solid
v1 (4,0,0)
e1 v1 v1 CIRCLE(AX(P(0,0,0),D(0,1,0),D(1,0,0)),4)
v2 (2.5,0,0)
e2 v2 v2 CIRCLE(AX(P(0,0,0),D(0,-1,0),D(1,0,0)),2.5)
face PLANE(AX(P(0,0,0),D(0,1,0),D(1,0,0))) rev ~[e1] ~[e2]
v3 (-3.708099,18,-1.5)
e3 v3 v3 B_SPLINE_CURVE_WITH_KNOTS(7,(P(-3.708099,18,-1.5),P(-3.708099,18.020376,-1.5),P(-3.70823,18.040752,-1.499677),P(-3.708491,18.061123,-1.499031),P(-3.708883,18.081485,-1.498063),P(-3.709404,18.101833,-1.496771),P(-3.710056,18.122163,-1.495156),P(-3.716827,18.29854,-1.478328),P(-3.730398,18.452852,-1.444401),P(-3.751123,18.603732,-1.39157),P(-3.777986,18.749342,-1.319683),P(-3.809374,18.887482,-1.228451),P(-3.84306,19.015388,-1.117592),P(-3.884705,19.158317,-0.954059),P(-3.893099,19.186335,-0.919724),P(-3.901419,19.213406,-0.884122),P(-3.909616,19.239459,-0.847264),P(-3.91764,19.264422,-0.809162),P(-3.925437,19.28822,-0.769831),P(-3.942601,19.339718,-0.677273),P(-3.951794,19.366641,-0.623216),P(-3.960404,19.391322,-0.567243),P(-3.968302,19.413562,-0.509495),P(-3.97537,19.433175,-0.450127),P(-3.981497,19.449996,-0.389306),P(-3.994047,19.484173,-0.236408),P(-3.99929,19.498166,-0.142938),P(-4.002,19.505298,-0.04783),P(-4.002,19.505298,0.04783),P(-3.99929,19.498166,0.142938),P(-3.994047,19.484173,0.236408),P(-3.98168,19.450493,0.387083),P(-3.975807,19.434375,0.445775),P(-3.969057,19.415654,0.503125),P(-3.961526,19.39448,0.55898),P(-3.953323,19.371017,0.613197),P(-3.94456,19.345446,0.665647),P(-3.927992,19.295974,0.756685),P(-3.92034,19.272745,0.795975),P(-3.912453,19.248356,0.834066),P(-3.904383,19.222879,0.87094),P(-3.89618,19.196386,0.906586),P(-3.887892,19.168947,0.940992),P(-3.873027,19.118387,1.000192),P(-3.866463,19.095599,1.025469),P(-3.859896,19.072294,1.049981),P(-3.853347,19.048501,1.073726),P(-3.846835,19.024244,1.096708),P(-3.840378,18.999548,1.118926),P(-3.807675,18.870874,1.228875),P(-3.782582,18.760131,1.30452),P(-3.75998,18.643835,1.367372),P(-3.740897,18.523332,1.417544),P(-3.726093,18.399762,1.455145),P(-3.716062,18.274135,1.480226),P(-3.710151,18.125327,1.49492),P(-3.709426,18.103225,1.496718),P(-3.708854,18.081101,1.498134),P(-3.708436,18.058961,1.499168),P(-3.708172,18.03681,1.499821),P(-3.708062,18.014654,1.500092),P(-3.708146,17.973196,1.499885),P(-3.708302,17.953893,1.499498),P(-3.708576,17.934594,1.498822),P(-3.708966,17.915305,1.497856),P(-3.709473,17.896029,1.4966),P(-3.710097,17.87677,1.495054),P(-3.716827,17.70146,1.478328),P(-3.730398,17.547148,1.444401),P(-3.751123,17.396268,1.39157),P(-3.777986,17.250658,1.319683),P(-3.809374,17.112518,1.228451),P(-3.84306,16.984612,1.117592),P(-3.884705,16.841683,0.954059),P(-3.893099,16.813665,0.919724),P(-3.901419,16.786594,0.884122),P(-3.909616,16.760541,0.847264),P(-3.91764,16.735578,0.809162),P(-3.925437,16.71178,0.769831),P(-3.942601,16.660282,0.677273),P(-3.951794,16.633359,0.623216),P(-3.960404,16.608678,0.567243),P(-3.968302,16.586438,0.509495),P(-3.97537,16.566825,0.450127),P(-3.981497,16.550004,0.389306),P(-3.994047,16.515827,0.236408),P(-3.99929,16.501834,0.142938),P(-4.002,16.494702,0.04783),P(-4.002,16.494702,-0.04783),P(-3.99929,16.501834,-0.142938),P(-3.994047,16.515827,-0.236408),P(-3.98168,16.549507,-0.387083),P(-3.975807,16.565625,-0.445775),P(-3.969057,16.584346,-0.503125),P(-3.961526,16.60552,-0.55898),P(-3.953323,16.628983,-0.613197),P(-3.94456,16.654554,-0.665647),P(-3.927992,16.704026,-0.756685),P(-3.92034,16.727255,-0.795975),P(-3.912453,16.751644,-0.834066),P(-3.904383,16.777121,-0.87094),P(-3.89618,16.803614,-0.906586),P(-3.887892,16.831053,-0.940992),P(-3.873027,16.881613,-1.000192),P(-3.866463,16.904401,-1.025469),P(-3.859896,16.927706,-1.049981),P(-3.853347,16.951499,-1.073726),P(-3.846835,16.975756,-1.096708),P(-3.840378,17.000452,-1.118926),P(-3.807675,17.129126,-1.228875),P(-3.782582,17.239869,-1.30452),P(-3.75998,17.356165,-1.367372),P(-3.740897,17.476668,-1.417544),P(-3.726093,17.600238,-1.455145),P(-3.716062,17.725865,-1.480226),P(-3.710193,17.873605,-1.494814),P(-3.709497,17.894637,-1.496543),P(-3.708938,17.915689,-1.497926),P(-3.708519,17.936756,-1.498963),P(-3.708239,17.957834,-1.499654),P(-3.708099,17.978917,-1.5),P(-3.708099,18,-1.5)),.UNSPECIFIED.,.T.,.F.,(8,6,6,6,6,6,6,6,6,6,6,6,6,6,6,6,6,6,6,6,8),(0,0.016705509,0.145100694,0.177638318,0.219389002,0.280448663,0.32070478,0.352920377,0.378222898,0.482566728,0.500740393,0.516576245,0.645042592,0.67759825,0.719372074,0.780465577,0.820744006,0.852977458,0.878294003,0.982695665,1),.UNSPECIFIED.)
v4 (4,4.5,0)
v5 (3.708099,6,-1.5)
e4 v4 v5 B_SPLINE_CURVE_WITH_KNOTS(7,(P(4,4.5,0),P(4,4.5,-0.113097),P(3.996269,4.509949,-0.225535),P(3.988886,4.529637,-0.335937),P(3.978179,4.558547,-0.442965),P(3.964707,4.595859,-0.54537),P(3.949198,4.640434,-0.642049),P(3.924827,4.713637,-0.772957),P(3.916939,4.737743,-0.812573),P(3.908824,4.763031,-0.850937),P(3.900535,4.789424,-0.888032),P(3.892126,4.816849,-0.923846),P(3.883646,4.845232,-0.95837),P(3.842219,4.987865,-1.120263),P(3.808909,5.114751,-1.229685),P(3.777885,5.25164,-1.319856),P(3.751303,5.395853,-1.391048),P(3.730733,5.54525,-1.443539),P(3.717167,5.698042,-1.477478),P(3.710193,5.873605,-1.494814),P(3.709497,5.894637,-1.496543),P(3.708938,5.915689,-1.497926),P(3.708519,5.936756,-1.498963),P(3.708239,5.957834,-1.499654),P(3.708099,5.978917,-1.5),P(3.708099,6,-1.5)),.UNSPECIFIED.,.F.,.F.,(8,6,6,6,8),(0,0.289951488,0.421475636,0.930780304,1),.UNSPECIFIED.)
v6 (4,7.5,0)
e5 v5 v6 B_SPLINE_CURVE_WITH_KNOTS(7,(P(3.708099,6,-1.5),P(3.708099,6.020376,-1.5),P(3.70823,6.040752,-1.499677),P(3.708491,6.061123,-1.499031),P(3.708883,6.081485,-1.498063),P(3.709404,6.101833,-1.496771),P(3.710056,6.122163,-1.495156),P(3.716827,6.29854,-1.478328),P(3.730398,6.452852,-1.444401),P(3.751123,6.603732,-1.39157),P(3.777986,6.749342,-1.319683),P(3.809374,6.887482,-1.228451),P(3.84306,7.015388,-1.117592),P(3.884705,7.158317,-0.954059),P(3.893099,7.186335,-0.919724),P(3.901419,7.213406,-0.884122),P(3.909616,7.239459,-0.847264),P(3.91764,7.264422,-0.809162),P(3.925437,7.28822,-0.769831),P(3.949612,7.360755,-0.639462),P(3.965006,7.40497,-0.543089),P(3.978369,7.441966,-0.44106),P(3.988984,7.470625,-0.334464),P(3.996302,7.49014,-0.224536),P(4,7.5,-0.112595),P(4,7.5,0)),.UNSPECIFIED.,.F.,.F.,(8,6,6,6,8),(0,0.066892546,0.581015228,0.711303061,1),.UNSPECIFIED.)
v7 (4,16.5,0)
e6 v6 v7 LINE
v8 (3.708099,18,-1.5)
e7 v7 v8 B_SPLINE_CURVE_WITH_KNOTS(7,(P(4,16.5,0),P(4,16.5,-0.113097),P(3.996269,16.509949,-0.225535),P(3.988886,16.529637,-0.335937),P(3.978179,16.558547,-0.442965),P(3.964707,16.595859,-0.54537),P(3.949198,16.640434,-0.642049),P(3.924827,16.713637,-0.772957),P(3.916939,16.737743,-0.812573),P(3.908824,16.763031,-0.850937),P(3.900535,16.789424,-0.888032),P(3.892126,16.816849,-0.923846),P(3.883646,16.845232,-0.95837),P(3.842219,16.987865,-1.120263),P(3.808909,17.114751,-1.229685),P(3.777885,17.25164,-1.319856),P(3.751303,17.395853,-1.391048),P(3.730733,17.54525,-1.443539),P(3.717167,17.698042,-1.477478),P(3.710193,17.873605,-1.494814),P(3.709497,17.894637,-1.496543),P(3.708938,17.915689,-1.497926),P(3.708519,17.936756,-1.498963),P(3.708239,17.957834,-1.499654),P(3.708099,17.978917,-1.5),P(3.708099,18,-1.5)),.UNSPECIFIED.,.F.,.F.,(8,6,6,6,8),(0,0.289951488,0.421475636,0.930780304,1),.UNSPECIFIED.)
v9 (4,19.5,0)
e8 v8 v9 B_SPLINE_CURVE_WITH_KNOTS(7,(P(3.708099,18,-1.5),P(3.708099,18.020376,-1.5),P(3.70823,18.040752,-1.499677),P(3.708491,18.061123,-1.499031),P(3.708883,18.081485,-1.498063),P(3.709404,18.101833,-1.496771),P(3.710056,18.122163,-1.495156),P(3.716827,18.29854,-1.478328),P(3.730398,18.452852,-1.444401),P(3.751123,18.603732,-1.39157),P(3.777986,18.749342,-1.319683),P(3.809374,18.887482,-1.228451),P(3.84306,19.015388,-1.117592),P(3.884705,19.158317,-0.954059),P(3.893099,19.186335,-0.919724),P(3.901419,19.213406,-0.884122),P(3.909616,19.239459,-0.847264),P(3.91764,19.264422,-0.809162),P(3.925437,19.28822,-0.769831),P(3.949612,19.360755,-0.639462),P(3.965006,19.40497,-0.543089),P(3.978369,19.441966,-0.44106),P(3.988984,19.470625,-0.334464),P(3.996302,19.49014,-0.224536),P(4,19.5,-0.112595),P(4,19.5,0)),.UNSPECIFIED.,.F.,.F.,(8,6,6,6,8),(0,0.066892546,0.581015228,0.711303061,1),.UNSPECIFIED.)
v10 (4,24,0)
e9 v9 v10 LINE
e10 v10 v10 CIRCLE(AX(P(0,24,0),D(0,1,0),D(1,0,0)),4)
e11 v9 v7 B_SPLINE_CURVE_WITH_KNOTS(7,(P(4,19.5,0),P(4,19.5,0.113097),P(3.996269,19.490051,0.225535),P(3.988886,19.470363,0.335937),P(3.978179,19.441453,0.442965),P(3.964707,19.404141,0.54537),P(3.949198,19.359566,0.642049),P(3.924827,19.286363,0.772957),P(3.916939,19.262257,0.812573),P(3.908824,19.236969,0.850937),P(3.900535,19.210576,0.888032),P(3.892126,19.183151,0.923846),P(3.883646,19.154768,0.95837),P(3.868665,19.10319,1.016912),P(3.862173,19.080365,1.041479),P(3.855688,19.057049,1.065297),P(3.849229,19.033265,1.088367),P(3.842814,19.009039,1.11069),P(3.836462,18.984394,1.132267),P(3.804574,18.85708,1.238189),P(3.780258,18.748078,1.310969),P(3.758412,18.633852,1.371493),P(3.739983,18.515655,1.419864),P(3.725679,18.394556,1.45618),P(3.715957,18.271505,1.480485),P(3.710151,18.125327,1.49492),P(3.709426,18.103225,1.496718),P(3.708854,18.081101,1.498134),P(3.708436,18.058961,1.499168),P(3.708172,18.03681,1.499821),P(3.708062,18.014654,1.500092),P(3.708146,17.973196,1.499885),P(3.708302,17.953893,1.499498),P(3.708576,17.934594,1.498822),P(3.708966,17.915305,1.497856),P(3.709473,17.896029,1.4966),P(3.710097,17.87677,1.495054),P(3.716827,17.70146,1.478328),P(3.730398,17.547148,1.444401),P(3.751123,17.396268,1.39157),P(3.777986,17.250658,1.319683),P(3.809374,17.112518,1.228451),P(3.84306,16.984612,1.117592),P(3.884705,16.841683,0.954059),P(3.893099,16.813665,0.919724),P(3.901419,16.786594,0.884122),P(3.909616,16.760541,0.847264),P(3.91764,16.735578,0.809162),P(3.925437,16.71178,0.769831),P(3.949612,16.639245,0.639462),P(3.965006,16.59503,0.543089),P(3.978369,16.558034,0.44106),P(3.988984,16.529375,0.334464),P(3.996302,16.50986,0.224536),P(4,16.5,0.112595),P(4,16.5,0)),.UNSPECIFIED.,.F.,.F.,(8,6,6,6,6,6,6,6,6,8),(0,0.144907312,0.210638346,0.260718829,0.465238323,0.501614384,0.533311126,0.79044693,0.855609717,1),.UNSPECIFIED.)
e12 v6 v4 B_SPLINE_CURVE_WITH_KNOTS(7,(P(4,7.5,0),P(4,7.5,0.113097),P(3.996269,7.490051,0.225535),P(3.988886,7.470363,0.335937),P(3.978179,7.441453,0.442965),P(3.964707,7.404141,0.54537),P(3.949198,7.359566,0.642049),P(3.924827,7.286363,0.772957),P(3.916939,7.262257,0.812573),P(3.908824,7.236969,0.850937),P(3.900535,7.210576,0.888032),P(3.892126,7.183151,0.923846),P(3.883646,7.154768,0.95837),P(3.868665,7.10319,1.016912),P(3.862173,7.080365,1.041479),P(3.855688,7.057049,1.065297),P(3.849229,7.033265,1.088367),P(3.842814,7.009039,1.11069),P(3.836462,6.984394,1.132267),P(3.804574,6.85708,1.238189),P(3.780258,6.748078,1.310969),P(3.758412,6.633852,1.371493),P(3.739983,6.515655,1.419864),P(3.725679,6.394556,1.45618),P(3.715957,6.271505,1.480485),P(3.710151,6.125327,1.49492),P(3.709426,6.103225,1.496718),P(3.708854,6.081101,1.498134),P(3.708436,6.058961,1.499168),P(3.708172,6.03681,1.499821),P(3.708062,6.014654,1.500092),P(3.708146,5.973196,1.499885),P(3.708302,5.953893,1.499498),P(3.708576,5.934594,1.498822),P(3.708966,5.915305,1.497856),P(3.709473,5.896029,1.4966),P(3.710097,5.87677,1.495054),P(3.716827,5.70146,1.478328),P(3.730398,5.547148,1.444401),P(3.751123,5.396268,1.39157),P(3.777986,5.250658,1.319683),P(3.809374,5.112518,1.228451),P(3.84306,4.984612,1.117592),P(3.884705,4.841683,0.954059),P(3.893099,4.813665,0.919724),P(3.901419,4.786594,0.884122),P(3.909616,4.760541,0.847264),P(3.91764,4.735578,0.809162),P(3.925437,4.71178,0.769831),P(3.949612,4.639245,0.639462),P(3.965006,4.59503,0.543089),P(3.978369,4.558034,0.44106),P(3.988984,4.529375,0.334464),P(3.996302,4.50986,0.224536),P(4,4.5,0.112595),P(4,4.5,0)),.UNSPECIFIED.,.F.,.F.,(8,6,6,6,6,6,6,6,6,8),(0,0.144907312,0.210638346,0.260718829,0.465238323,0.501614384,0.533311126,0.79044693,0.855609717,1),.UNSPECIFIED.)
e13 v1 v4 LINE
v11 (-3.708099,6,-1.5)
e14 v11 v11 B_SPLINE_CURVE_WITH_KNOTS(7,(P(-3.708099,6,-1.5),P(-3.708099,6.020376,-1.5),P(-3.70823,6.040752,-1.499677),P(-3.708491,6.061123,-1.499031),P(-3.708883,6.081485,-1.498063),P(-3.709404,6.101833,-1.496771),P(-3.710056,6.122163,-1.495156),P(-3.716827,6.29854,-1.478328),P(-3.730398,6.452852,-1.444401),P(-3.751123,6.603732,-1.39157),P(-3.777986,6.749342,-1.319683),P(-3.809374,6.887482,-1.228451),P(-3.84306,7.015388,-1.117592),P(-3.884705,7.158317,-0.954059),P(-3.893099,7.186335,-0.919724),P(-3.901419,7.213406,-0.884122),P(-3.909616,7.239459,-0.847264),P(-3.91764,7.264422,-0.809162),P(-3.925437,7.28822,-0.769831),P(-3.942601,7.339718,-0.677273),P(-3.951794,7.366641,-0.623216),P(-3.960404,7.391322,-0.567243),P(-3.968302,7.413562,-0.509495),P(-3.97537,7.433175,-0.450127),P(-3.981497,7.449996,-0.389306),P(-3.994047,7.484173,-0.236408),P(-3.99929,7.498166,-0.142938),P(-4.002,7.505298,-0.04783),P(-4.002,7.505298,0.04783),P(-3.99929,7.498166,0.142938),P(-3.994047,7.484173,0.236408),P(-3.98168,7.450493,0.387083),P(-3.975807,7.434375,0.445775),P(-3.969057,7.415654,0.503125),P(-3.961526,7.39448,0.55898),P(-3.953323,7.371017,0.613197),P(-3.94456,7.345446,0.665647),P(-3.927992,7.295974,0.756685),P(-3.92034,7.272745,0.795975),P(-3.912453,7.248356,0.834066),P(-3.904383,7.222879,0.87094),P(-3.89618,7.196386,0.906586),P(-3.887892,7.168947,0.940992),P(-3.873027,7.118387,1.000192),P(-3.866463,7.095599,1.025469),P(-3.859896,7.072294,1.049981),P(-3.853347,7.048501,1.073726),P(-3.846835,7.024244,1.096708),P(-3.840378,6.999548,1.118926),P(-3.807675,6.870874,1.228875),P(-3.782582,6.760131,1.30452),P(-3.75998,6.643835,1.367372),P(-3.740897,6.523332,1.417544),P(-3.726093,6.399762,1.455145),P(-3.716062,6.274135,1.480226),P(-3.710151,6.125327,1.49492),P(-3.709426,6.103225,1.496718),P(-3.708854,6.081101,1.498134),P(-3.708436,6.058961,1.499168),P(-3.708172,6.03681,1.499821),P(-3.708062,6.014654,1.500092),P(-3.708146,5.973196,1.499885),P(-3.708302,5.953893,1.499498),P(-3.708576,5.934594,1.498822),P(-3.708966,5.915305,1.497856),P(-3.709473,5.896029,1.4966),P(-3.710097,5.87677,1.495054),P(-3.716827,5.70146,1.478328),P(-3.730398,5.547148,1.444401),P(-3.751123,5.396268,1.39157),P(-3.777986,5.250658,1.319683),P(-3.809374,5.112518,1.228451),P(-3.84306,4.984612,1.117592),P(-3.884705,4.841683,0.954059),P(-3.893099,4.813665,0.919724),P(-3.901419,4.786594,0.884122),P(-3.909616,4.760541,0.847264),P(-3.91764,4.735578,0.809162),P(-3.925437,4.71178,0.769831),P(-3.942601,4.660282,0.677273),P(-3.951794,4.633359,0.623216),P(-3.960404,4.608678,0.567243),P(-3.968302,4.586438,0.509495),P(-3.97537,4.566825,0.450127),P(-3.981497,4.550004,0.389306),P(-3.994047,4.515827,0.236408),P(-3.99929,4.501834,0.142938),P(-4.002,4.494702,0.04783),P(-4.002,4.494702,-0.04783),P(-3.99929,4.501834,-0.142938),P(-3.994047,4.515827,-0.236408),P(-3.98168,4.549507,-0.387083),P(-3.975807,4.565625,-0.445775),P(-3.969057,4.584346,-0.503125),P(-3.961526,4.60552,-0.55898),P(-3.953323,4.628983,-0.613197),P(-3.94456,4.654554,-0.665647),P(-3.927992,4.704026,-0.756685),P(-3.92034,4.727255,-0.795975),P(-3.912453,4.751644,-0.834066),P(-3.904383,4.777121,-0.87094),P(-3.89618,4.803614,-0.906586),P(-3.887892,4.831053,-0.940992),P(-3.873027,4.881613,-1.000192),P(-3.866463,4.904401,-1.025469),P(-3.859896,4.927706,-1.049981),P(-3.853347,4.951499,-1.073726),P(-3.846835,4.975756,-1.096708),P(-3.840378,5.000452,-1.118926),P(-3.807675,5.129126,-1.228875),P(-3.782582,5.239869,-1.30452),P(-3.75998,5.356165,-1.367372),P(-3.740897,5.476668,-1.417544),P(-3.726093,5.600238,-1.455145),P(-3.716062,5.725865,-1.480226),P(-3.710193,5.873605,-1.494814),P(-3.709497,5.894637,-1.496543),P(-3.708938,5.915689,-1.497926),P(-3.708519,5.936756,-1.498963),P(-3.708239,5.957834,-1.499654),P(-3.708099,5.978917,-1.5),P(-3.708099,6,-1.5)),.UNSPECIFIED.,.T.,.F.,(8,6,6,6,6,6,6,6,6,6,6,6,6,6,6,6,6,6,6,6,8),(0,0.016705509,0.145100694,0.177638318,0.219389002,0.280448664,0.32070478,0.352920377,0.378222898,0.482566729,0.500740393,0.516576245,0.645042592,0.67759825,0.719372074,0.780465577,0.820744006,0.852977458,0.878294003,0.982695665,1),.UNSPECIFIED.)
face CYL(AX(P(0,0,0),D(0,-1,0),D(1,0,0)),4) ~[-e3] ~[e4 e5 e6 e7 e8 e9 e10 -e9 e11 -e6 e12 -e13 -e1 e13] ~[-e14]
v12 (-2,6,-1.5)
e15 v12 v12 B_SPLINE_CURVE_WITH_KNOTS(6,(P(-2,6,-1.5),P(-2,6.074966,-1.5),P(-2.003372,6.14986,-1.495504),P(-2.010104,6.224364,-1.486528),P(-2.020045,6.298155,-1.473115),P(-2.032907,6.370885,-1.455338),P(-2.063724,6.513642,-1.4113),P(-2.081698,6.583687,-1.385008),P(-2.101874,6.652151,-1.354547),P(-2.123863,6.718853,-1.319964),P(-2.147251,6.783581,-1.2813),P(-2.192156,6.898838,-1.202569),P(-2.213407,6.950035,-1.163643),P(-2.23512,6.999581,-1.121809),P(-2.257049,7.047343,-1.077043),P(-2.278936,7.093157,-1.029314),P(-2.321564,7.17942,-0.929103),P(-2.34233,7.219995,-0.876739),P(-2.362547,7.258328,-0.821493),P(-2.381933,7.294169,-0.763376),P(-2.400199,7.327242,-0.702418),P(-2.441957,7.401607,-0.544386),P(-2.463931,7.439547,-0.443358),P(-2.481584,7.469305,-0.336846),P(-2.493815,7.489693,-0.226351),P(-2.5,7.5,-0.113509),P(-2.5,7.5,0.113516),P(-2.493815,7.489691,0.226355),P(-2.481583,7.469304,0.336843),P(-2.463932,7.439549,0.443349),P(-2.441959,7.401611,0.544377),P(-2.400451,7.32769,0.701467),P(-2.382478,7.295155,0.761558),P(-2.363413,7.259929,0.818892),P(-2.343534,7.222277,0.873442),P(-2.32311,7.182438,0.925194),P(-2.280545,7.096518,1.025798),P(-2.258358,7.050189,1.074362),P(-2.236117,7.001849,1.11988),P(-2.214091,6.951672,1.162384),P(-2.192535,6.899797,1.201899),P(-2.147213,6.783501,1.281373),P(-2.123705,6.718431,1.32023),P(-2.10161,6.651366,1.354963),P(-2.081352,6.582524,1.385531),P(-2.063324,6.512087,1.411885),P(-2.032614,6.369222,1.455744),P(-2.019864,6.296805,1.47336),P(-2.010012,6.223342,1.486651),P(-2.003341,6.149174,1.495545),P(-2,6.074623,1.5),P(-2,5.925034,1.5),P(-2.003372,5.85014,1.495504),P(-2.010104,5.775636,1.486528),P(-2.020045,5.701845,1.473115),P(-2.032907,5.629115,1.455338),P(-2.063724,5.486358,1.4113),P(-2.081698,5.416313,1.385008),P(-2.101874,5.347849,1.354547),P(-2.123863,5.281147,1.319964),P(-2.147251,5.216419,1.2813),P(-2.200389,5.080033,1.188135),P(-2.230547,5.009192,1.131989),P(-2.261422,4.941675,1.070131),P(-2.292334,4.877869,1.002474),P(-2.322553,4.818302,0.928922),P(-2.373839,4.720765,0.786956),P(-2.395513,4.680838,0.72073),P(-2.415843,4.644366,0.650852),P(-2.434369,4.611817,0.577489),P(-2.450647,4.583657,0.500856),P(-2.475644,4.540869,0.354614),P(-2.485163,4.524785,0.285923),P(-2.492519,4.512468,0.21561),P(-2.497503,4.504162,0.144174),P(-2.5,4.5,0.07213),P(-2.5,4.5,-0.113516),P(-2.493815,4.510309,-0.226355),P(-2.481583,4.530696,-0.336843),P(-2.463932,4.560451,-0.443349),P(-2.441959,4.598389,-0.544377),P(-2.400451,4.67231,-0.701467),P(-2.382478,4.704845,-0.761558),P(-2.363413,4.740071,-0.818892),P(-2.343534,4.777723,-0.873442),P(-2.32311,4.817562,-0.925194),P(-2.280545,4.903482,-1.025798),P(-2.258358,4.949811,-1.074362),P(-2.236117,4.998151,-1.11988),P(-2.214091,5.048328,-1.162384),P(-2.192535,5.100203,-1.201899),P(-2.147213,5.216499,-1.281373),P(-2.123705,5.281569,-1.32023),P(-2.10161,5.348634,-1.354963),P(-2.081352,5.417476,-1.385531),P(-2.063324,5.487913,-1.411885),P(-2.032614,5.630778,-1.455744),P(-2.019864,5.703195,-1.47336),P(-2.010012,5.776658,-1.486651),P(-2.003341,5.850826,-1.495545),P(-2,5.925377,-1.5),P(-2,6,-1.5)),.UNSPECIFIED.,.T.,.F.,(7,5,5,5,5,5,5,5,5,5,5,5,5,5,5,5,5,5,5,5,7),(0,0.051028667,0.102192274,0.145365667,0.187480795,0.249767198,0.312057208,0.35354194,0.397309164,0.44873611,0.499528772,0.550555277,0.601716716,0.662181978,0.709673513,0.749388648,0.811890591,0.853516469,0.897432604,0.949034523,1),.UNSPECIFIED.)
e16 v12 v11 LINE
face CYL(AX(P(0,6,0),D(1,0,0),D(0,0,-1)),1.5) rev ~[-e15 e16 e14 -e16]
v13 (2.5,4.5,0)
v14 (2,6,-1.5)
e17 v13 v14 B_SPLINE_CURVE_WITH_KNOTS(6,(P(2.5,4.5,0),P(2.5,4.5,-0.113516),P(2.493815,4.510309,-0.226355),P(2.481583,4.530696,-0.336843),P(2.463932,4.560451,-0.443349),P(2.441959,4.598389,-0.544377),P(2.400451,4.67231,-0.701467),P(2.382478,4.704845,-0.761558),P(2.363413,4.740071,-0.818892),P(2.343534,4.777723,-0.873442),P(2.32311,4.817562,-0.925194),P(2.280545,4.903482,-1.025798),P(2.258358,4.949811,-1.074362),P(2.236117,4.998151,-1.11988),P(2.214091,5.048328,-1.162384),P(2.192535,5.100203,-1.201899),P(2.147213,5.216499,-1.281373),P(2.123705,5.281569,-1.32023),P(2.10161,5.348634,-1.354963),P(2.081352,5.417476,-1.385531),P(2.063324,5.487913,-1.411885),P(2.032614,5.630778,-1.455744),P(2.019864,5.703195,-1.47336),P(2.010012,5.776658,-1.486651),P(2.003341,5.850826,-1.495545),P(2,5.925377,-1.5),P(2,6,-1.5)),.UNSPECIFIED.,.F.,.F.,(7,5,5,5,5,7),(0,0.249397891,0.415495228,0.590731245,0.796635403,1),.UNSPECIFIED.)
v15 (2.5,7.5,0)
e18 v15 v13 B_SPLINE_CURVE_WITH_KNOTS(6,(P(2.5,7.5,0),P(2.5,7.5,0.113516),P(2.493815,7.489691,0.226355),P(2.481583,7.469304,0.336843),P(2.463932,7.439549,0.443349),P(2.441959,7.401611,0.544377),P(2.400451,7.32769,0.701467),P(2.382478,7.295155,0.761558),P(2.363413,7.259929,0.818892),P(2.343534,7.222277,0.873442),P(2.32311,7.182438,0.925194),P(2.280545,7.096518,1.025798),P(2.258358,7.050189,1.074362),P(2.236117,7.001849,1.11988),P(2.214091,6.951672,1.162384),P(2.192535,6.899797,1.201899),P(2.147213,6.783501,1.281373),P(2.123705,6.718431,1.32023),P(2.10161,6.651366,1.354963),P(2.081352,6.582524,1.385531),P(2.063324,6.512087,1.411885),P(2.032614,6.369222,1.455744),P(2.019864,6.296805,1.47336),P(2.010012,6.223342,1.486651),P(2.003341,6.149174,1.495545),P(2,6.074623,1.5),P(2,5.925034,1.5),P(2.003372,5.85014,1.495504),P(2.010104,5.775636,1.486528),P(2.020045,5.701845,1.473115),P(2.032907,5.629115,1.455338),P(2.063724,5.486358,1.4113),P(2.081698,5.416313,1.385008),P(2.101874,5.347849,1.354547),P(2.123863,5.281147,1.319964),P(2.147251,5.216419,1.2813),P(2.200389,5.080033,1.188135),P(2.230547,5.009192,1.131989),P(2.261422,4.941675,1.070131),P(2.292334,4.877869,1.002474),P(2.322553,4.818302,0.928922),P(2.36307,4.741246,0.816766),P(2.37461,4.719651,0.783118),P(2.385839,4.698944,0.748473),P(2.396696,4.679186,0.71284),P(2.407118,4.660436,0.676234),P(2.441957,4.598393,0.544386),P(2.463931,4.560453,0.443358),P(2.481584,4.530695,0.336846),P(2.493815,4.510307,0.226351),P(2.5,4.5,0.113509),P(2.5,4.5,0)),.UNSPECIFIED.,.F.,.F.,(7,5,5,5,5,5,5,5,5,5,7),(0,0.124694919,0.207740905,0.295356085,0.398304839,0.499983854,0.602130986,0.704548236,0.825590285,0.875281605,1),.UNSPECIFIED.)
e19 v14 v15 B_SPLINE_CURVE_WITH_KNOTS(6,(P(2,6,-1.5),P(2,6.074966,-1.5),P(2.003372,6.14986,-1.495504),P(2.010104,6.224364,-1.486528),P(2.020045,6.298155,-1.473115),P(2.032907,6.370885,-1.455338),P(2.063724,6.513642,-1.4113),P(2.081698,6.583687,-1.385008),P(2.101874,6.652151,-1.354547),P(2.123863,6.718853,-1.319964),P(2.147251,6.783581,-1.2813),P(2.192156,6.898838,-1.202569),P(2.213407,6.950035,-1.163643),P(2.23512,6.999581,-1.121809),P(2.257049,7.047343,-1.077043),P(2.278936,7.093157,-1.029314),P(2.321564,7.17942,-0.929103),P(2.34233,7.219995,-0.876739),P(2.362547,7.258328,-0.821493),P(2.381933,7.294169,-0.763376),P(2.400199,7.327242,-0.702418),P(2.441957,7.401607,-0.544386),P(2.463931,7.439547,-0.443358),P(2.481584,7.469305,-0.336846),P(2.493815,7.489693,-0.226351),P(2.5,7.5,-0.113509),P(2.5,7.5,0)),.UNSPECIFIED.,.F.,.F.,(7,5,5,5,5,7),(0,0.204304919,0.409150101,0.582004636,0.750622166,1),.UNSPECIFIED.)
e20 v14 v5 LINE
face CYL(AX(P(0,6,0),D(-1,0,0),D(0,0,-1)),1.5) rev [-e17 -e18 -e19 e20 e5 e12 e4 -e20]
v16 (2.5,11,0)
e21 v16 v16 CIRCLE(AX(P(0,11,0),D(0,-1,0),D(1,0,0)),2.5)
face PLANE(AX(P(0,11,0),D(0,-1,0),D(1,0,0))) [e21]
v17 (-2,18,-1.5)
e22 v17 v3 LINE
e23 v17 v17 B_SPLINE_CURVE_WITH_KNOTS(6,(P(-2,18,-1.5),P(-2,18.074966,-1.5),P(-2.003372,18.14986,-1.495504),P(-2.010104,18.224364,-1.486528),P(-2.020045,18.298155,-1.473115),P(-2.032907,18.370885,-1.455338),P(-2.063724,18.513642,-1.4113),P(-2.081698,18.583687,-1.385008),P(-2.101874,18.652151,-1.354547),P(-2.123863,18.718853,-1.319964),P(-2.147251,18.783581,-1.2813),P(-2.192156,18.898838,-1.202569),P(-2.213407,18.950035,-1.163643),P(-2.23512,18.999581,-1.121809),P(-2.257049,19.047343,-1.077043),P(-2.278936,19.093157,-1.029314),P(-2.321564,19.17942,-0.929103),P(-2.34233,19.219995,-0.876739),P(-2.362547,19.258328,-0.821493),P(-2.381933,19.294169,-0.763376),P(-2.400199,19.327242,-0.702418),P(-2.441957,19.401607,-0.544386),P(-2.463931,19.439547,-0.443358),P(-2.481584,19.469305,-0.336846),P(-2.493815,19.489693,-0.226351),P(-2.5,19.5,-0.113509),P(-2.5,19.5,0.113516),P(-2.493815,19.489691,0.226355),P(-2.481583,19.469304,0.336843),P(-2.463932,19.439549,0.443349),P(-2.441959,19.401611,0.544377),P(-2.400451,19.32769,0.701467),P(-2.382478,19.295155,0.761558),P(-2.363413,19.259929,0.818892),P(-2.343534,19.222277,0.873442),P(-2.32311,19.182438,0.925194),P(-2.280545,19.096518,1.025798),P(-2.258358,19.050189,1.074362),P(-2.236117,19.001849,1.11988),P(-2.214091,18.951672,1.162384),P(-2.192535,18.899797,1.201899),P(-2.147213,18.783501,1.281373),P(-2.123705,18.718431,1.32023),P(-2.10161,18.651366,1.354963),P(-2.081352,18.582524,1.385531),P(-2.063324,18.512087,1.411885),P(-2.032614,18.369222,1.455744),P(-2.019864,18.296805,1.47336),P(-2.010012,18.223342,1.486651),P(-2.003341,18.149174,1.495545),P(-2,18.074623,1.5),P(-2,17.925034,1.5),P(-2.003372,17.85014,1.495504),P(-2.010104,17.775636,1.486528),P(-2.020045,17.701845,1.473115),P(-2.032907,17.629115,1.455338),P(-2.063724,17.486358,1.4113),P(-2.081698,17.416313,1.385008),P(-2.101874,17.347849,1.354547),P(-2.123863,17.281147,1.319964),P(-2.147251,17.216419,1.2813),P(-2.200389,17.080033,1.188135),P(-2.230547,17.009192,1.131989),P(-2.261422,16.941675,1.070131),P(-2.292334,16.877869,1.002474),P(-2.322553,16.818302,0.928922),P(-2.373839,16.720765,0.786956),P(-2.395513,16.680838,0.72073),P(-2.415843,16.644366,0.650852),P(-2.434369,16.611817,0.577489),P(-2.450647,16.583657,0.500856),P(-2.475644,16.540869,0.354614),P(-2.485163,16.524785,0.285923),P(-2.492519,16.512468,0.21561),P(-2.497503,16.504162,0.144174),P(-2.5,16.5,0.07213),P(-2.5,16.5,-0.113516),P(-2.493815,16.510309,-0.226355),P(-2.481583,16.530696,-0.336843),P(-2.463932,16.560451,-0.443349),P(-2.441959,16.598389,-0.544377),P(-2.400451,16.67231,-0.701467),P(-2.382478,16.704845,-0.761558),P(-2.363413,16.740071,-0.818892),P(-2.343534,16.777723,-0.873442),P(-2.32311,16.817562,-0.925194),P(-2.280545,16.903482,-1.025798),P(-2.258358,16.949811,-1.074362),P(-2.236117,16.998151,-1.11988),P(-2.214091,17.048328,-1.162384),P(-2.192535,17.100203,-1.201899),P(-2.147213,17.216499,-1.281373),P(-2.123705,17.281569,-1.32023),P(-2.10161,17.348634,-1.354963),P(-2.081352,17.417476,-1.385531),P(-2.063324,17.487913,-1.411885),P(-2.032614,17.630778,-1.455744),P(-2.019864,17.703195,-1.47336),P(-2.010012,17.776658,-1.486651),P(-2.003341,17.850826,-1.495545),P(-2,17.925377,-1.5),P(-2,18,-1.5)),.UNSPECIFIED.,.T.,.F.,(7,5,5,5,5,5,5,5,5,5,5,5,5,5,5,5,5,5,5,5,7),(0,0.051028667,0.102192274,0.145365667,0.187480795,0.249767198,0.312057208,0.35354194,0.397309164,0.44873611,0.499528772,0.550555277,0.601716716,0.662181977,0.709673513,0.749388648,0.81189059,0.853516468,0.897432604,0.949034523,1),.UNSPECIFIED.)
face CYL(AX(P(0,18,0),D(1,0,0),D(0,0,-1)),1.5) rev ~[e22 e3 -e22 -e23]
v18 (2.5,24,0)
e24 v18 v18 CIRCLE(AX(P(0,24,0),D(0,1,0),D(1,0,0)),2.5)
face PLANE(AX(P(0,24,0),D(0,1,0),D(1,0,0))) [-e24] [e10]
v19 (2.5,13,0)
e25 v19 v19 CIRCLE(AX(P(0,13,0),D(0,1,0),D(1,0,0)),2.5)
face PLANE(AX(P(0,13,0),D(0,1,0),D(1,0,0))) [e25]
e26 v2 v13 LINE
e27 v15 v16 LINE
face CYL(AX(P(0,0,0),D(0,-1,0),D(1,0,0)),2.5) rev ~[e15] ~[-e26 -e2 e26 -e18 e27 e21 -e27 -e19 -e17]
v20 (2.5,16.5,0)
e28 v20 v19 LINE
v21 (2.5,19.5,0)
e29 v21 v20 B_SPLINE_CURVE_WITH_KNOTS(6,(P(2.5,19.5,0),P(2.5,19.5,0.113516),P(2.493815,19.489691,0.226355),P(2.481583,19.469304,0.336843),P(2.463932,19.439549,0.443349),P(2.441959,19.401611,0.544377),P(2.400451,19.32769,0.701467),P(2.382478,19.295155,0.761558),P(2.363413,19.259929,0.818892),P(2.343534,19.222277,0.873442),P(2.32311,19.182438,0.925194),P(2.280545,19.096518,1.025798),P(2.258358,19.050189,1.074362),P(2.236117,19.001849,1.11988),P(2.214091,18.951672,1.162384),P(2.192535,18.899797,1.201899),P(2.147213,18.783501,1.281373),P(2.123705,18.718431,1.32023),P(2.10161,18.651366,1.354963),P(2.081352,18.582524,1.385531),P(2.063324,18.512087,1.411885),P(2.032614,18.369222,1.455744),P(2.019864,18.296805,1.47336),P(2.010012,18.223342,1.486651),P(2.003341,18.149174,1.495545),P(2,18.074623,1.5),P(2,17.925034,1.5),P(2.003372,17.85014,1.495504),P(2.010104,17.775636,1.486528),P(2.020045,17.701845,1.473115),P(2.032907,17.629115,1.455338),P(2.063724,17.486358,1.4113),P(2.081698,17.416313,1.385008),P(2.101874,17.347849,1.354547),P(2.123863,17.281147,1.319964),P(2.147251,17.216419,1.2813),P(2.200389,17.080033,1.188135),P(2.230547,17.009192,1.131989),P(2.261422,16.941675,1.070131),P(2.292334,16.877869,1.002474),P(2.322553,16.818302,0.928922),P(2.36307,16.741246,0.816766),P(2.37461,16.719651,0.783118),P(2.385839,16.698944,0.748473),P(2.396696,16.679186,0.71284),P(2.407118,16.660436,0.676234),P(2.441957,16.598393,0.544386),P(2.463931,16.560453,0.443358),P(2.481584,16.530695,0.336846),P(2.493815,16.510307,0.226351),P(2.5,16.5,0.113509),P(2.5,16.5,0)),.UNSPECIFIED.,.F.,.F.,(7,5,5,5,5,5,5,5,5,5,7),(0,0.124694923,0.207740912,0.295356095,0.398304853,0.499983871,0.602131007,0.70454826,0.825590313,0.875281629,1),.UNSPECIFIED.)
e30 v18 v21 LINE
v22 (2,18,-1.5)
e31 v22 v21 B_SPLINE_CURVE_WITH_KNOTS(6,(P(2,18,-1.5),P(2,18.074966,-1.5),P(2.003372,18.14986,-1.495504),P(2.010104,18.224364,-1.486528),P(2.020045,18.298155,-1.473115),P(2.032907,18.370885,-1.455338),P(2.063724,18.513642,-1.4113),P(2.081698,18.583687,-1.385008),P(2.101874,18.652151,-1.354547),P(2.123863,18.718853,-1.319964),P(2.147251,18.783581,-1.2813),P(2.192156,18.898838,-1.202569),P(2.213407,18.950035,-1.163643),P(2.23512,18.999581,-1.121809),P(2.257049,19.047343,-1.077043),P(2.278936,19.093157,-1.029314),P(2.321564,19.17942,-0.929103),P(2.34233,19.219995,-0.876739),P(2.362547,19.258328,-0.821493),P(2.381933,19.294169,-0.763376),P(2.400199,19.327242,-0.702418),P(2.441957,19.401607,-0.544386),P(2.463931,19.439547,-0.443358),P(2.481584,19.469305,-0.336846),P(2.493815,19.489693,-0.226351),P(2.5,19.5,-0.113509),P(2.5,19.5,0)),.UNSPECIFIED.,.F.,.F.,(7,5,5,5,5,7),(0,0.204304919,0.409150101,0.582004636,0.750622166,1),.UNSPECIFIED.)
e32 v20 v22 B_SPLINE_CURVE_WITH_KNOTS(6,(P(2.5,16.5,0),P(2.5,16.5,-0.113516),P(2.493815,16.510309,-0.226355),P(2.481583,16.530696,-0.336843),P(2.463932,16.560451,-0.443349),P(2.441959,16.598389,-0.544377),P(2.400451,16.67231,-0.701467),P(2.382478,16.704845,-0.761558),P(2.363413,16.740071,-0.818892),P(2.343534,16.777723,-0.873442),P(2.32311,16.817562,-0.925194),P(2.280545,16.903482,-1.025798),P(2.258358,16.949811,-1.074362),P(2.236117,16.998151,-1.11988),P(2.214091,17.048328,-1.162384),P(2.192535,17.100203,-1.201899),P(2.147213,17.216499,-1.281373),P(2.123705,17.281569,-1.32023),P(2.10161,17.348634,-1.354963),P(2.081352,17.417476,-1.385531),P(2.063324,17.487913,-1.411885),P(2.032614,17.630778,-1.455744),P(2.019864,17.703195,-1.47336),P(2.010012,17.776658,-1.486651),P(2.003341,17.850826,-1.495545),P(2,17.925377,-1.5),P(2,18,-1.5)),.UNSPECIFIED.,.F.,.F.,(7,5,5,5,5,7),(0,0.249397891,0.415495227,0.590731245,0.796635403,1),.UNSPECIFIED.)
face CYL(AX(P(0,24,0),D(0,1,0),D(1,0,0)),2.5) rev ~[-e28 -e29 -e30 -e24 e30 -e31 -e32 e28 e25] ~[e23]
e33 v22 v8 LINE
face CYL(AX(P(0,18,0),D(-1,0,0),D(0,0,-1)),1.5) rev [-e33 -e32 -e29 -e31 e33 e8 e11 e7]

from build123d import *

# Parameters (mm, degrees)
SKETCH1_R               = 4
BOSS_EXTRUDE1_DEPTH     = 24
SKETCH2_R               = 2.5
CUT_EXTRUDE1_DEPTH      = 11
CUT_EXTRUDE2_START      = -11
SKETCH3_R               = 2.5
CUT_EXTRUDE2_DEPTH      = 11
CUT_EXTRUDE3_DEPTH      = 11
CUT_EXTRUDE3_DEPTH_BACK = 11
SKETCH4_R               = 1.5


with BuildPart() as part:
    # Sketch1 → Boss-Extrude1 (new body)
    with BuildSketch(Plane(origin=(0, 0, 0), x_dir=(1, 0, 0), z_dir=(0, 1, 0))):
        Circle(SKETCH1_R)
    extrude(amount=BOSS_EXTRUDE1_DEPTH)

    # Sketch2 → Cut-Extrude1 (cut)
    with BuildSketch(Plane(origin=(0, 24, 0), x_dir=(1, 0, 0), z_dir=(0, 1, 0))):
        Circle(SKETCH2_R)
    extrude(amount=-CUT_EXTRUDE1_DEPTH, mode=Mode.SUBTRACT)

    # Sketch3 → Cut-Extrude2 (cut)
    with BuildSketch(Plane.XZ.offset(CUT_EXTRUDE2_START)):
        Circle(SKETCH3_R)
    extrude(amount=CUT_EXTRUDE2_DEPTH, mode=Mode.SUBTRACT)

    # Sketch4 → Cut-Extrude3 (cut, two sides: drawn at the far end of the back side and taken through both)
    with BuildSketch(Plane(origin=(0, 0, 0), x_dir=(0, 0, -1), z_dir=(1, 0, 0)).offset(-CUT_EXTRUDE3_DEPTH_BACK)):
        with Locations((0, 18)):
            Circle(SKETCH4_R)
        with Locations((0, 6)):
            Circle(SKETCH4_R)
    extrude(amount=CUT_EXTRUDE3_DEPTH + CUT_EXTRUDE3_DEPTH_BACK, mode=Mode.SUBTRACT)


solid = part.part
